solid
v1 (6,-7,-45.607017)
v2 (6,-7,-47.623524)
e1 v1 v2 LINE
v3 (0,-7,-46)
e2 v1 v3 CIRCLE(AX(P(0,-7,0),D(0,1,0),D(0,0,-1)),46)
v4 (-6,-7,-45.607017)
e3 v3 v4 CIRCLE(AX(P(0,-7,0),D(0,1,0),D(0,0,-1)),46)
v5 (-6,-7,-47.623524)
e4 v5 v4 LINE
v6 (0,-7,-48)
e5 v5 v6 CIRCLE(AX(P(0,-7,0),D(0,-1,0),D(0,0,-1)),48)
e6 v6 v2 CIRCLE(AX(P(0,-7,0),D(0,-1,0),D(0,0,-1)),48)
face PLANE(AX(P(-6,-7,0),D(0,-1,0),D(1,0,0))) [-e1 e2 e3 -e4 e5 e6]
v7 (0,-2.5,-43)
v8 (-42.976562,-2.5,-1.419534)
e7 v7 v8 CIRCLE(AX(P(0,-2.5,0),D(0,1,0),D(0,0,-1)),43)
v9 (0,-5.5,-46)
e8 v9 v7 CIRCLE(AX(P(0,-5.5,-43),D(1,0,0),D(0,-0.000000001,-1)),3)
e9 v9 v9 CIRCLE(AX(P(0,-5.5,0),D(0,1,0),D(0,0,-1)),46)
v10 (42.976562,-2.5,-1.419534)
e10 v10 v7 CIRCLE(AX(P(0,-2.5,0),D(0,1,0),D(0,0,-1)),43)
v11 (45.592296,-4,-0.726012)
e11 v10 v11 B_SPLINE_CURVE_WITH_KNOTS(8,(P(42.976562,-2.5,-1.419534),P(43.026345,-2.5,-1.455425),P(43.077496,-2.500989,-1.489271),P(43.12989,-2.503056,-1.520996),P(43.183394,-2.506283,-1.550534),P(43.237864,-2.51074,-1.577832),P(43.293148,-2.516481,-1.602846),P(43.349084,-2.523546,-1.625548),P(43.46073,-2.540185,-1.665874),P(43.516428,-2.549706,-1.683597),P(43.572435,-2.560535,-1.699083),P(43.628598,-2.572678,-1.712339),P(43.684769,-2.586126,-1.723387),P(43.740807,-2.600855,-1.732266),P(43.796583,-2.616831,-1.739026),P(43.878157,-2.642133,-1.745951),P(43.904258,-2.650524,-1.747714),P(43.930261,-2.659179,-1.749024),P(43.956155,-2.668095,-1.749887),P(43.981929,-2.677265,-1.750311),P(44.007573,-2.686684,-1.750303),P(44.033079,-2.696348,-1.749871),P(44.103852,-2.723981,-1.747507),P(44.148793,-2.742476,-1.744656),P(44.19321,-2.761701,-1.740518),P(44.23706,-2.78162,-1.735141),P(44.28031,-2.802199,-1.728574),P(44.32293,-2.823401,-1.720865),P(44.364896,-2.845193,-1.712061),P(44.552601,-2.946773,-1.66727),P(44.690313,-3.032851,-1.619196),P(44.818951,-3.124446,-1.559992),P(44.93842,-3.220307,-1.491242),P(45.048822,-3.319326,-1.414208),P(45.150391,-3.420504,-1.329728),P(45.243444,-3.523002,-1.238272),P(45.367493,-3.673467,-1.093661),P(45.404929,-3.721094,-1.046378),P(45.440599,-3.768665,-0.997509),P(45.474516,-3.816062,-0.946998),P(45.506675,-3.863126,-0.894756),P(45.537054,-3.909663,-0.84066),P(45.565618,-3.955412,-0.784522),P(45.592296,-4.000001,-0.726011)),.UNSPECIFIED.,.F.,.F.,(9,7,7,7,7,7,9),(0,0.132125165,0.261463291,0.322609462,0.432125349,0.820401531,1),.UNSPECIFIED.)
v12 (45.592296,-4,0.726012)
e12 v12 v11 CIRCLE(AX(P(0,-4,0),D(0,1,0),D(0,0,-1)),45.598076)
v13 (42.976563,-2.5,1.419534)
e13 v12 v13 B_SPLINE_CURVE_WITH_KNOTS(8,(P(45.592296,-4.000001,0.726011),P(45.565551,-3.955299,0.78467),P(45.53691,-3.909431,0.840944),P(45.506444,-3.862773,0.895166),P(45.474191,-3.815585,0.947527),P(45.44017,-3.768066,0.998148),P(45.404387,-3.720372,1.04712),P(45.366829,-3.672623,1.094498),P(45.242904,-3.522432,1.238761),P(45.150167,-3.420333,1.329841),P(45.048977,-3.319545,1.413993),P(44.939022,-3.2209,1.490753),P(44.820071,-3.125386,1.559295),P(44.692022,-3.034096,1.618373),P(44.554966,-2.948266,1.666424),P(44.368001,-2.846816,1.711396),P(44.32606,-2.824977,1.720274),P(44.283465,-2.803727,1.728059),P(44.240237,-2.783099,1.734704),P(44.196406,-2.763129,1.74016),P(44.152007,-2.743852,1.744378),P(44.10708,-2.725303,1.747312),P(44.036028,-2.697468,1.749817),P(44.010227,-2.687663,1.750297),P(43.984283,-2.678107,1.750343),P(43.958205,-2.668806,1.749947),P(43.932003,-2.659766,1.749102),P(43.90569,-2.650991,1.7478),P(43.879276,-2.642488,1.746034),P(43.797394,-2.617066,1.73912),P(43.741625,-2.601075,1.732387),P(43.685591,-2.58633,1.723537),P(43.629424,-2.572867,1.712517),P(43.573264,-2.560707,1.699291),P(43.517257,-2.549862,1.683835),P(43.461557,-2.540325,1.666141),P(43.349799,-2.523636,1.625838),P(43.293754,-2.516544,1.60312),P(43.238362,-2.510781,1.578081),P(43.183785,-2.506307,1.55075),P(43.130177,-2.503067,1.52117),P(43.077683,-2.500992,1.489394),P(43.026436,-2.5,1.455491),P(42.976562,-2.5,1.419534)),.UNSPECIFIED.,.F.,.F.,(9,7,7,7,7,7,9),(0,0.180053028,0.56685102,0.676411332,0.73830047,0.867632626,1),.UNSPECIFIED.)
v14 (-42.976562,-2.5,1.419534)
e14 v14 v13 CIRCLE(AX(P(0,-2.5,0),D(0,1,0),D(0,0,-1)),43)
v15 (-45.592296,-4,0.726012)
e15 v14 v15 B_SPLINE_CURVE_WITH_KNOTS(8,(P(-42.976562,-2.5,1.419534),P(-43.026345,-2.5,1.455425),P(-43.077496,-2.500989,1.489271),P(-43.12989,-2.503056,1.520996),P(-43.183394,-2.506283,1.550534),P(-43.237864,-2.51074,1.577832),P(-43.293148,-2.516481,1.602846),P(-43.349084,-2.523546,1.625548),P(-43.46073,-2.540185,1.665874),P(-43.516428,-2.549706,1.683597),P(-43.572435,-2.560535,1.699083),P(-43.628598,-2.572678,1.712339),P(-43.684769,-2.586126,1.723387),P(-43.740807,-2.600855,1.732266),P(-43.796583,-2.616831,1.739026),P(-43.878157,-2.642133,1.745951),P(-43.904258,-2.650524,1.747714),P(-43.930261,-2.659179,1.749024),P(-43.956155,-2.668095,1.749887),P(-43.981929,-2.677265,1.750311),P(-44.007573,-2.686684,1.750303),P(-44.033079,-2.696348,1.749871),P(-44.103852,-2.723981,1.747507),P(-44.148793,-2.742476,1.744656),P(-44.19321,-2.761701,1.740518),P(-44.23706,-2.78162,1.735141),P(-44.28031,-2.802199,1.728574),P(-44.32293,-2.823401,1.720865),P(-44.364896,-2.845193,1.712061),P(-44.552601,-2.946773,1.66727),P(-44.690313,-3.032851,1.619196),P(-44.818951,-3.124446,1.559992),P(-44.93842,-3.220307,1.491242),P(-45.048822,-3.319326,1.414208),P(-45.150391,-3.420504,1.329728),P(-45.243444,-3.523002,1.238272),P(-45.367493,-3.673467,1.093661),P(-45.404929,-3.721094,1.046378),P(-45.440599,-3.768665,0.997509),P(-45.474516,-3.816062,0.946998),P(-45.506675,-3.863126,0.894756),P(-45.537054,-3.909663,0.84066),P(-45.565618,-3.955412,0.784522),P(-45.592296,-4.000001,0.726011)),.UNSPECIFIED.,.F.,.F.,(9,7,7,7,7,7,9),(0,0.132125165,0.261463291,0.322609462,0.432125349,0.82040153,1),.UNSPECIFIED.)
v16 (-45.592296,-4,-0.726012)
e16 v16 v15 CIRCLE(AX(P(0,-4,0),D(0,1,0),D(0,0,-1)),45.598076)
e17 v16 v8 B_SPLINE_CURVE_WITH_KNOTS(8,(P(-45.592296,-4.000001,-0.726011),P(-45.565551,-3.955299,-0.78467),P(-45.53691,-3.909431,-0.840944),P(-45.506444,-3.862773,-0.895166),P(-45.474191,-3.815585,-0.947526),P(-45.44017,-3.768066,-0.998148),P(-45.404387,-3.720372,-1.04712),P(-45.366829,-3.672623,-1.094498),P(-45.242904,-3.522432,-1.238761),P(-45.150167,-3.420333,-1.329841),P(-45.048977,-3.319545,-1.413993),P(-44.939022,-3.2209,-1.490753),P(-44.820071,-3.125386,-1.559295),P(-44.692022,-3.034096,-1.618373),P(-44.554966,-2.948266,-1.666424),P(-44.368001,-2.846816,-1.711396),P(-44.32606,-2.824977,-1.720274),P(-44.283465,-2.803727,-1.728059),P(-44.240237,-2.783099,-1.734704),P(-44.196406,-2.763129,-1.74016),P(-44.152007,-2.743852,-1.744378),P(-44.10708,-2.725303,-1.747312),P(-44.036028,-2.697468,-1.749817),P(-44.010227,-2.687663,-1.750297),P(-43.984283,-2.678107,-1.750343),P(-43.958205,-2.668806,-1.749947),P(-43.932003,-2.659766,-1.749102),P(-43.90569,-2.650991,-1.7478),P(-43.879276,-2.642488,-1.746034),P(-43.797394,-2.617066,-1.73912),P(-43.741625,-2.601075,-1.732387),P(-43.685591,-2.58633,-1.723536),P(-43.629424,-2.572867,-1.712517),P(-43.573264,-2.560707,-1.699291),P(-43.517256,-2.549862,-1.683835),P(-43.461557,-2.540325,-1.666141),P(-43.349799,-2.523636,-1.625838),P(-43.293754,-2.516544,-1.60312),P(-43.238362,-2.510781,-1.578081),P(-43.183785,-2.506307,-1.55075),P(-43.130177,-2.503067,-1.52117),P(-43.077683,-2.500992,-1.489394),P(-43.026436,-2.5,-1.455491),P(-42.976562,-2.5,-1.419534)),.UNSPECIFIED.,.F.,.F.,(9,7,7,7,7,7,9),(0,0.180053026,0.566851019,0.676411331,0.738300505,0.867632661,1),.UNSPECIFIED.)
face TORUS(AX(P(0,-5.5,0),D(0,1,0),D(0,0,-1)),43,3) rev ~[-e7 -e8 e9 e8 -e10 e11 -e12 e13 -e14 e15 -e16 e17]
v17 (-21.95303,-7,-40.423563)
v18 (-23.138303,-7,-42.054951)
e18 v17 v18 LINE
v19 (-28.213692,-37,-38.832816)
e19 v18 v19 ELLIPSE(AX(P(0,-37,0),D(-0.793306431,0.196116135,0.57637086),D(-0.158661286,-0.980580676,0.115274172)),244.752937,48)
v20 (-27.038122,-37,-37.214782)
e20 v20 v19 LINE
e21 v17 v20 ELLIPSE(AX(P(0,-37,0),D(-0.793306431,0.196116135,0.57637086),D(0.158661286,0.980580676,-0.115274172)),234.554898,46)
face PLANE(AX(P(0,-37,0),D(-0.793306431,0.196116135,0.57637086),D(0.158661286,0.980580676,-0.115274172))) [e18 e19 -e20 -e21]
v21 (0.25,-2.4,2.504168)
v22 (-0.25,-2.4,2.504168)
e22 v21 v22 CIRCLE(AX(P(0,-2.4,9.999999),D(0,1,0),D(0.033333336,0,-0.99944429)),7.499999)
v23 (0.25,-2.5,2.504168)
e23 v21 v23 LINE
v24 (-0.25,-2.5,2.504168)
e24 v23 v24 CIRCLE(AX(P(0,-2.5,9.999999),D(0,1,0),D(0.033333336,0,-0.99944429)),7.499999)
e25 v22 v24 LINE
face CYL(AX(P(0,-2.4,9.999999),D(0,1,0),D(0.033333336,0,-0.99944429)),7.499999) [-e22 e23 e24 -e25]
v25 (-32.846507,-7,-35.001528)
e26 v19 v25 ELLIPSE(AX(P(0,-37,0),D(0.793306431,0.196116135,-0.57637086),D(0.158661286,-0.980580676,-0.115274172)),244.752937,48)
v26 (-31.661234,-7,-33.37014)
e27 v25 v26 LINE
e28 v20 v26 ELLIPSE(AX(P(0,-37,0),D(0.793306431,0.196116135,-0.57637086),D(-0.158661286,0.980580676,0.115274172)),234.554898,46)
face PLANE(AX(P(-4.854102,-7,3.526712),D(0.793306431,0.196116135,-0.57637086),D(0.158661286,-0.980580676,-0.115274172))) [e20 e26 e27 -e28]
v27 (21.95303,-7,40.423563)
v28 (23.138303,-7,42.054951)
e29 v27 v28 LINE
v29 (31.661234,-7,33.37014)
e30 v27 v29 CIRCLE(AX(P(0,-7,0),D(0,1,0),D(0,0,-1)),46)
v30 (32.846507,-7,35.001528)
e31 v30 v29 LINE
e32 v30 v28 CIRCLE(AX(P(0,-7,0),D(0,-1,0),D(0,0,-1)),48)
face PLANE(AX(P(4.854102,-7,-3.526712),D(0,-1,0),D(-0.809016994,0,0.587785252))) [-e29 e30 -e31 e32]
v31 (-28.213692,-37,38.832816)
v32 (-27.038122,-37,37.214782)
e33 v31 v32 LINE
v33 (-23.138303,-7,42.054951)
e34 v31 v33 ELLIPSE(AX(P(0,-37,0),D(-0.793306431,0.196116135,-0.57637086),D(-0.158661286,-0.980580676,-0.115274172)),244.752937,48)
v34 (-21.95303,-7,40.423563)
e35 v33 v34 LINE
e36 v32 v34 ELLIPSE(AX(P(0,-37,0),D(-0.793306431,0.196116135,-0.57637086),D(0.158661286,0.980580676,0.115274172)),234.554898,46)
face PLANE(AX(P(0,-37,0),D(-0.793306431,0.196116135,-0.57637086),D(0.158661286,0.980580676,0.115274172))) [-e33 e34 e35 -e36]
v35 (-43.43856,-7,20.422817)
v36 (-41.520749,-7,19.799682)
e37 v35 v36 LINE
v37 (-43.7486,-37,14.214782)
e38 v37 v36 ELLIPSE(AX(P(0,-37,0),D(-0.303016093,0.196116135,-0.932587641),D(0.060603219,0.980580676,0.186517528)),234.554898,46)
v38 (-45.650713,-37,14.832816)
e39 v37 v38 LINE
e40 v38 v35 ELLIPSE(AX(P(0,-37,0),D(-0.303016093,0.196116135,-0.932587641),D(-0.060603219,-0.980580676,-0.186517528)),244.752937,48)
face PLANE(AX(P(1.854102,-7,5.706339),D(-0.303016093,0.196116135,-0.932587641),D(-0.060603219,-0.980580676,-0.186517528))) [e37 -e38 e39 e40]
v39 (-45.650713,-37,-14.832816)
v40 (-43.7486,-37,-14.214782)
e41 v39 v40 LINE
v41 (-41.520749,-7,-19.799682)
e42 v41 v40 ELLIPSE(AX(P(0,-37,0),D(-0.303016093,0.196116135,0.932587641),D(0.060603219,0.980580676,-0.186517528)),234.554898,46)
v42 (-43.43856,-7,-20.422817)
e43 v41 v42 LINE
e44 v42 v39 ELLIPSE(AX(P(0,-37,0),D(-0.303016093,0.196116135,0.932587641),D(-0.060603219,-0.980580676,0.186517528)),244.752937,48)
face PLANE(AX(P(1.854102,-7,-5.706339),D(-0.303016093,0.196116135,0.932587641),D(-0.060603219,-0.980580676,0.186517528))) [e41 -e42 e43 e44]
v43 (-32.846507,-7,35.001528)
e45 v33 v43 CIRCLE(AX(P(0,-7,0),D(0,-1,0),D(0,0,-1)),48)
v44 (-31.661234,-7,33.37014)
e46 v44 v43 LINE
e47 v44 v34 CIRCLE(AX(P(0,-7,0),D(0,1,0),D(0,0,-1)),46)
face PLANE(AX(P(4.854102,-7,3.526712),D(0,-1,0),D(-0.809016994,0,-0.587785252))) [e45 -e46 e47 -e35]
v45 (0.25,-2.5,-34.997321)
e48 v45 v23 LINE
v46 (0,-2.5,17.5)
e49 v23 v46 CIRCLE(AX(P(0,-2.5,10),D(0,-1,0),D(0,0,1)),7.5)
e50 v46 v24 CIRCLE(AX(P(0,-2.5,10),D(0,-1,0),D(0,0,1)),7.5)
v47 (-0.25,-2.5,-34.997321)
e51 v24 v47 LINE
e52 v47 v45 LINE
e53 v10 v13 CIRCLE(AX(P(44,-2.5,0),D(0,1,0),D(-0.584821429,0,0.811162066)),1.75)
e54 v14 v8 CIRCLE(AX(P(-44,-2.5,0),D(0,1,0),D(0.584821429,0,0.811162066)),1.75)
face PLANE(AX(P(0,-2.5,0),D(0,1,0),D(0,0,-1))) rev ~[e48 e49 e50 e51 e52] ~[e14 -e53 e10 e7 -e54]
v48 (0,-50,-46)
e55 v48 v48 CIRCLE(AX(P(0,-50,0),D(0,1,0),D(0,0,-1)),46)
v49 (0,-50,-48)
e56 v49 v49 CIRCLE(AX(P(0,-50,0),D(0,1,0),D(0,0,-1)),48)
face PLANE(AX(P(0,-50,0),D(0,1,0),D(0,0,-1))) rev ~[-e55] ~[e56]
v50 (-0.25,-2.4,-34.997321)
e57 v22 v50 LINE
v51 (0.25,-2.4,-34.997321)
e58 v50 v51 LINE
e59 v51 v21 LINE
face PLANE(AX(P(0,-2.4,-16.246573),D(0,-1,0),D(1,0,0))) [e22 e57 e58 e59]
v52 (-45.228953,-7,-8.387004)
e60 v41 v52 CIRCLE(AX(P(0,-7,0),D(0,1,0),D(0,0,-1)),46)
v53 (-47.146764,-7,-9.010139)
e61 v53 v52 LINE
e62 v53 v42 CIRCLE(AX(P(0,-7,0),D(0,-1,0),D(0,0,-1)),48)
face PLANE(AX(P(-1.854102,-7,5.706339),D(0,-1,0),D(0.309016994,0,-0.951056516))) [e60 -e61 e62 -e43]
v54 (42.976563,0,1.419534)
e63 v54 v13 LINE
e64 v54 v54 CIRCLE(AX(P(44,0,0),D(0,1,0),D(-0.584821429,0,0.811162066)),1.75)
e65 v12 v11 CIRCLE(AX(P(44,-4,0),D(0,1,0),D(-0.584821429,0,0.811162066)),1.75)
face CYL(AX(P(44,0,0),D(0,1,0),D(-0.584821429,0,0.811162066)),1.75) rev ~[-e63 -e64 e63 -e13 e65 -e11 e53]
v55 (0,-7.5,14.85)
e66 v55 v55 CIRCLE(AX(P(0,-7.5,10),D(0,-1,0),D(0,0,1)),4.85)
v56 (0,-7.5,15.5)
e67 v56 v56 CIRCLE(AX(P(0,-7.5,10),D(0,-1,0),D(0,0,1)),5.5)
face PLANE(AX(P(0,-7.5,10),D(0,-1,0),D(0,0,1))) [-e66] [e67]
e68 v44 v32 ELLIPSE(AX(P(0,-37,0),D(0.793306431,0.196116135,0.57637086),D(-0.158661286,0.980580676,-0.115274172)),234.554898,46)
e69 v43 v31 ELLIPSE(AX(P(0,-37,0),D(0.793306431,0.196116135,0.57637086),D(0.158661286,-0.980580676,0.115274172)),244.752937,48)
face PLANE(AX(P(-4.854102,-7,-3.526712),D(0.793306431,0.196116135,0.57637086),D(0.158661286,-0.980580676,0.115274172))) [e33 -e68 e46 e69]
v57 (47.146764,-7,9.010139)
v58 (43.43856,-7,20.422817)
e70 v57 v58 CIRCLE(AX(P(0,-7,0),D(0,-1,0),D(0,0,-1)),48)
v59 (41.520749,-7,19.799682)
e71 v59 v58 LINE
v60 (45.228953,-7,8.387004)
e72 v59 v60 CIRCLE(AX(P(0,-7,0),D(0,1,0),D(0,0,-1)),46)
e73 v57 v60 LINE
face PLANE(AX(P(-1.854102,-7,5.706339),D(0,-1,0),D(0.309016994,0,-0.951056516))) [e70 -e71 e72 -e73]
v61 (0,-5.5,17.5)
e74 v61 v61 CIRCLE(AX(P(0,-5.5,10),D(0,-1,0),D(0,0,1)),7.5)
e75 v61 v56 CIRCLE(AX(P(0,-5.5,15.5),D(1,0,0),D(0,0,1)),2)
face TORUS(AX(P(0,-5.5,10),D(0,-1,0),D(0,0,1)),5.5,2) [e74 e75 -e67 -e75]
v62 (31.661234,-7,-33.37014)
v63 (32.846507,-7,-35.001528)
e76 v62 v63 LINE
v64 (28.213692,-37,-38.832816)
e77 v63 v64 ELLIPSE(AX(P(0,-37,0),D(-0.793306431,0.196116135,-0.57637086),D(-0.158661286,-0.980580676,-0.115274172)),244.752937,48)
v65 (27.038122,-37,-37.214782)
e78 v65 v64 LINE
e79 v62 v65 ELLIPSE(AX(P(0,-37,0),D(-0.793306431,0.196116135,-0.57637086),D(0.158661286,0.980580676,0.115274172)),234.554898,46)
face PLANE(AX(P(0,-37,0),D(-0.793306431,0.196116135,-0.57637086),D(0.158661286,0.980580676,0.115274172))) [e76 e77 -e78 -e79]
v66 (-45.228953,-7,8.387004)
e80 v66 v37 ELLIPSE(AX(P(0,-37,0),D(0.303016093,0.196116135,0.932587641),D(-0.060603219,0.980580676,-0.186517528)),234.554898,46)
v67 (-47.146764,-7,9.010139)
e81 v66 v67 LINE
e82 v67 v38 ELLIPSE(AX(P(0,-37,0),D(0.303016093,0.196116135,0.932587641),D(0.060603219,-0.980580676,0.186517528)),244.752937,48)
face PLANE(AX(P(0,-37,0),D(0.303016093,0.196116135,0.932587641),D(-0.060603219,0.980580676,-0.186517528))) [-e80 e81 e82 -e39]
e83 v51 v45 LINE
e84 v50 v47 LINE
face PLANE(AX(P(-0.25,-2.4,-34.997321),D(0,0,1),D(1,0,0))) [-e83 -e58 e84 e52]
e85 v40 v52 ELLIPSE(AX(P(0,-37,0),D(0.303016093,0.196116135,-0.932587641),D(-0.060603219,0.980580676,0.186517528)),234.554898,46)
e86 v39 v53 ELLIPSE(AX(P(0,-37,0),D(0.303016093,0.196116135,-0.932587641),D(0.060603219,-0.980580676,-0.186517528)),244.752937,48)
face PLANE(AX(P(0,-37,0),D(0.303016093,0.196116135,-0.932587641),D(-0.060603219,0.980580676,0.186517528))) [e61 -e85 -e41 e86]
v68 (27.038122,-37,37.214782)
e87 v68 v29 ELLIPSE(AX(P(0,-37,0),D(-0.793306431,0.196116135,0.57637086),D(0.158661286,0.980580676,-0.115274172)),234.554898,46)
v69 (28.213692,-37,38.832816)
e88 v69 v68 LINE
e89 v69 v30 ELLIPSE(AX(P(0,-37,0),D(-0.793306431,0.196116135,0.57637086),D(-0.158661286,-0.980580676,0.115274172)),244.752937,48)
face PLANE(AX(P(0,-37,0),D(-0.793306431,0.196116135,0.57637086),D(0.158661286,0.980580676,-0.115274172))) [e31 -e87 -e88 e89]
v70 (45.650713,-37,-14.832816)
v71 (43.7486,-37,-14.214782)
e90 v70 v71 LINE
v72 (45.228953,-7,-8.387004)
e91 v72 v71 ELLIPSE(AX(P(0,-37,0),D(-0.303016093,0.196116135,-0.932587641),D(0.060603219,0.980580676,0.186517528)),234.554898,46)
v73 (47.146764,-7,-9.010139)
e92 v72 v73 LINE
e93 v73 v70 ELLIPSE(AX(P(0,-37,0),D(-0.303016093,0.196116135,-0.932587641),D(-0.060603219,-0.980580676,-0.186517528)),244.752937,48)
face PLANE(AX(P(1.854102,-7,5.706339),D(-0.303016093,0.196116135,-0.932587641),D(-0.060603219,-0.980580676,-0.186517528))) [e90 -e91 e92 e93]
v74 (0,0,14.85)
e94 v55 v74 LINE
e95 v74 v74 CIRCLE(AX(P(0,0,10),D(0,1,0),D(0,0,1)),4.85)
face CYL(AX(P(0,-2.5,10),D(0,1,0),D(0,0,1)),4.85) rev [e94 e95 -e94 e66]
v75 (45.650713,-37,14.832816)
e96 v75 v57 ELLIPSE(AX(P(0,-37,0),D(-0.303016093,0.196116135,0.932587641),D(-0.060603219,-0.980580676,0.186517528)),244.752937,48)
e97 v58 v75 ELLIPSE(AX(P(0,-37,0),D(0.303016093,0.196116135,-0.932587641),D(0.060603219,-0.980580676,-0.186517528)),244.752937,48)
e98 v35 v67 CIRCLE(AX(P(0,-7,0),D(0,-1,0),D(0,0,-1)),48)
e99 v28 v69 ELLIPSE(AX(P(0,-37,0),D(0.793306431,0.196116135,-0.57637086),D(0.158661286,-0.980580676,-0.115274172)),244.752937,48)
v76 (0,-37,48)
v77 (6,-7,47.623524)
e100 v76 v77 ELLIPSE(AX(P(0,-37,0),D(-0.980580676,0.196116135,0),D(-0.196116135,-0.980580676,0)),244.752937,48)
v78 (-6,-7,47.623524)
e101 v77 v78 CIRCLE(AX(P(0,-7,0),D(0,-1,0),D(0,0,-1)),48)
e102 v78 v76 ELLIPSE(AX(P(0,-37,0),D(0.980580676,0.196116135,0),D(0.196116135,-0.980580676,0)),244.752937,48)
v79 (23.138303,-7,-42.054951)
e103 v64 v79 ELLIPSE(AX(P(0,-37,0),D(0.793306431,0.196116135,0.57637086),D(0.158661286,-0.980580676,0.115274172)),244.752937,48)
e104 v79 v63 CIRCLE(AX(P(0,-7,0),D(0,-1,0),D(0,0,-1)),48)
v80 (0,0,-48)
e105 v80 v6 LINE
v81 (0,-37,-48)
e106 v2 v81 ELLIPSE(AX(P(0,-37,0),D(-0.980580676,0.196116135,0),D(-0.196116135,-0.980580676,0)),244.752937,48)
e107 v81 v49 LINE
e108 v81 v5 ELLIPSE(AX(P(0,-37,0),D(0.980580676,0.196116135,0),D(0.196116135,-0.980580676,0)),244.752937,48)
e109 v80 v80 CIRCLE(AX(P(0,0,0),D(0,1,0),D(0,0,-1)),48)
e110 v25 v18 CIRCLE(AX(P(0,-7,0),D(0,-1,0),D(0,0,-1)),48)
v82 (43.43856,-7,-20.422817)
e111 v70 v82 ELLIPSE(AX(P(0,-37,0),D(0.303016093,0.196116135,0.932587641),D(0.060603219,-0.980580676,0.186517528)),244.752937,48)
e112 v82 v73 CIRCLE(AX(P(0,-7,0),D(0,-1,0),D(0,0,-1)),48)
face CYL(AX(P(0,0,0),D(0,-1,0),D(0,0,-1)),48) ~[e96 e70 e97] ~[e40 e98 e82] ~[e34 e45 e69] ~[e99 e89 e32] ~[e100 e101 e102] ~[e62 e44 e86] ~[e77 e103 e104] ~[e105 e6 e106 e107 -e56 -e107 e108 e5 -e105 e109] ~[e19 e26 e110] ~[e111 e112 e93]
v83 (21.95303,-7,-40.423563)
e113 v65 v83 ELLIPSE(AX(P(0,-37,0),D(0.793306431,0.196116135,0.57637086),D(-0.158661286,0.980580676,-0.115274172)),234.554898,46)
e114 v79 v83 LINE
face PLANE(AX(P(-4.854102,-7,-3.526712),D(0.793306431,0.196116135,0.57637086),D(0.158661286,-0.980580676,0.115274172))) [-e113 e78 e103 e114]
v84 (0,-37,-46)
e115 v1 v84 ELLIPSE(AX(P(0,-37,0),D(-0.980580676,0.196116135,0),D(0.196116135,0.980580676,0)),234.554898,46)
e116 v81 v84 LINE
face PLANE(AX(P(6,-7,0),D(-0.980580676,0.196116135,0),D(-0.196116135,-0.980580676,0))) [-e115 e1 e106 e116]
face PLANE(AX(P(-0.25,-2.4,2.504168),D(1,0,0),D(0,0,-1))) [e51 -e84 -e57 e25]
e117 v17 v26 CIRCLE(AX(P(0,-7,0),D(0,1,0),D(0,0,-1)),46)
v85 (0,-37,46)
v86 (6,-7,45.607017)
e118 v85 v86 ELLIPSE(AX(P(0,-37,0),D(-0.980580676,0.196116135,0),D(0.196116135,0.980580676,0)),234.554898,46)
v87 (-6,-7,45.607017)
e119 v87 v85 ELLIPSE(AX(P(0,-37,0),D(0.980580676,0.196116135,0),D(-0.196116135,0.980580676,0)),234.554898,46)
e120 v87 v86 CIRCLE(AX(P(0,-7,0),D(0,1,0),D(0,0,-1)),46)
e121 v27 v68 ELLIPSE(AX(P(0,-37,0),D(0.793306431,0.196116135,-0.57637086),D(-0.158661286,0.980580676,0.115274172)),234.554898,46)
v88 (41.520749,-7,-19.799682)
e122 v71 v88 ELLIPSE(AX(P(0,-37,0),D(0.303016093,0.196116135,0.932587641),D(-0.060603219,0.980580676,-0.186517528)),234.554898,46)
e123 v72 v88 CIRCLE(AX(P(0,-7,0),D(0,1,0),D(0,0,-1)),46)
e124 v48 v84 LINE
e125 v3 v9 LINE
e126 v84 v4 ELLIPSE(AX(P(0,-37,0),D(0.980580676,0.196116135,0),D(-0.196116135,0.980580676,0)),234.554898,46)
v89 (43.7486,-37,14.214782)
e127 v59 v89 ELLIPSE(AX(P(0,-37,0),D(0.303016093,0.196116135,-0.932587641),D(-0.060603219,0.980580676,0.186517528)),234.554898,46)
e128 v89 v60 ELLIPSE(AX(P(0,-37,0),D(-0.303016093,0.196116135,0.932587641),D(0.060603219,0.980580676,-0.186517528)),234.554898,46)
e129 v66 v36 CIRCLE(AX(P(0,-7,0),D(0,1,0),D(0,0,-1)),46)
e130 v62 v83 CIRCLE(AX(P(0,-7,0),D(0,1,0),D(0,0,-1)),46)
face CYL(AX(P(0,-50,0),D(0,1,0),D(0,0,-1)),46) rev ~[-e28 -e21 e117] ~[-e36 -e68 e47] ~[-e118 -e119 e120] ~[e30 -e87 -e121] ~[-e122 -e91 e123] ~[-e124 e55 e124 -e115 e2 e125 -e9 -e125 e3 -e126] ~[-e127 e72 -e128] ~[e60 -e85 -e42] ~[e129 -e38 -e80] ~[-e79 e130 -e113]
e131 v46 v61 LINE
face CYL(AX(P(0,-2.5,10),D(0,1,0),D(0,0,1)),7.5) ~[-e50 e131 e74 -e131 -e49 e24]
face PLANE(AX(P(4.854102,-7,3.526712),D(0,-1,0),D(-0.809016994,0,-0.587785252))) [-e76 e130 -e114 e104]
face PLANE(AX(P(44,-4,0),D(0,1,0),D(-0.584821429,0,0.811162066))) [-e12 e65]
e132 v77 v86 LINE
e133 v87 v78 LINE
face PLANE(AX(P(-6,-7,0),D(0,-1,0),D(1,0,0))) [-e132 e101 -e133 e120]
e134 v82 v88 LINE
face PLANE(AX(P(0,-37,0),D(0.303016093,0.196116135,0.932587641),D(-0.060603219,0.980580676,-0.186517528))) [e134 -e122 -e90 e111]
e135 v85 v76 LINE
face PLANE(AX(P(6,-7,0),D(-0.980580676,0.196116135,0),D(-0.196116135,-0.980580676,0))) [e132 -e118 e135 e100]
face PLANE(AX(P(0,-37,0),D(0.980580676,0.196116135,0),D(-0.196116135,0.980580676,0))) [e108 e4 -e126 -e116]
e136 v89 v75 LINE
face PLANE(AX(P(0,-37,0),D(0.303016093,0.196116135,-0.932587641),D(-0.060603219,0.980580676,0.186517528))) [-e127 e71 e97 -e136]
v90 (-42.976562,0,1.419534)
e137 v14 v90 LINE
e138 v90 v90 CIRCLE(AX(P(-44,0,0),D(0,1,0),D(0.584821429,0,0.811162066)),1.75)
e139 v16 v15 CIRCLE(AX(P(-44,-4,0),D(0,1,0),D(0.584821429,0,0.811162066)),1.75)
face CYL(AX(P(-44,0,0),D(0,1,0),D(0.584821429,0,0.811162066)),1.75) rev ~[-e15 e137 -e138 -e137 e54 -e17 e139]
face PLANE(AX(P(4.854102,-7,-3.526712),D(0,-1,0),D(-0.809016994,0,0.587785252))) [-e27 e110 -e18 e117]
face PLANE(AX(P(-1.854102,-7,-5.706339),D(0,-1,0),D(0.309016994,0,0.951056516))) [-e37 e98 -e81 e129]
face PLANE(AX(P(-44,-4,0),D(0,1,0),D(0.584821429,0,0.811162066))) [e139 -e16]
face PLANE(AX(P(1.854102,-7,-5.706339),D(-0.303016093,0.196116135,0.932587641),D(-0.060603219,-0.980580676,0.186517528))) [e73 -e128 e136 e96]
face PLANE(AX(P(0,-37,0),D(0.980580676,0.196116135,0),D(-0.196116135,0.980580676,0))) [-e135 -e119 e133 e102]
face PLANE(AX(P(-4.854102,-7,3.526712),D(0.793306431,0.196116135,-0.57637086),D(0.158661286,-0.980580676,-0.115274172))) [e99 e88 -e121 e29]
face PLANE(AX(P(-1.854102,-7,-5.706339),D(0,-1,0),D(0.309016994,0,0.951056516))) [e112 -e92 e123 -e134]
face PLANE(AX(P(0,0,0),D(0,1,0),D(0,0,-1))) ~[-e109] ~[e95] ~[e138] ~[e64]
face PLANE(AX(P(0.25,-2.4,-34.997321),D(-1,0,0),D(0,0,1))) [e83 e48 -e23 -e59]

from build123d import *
from build123d.topology import SkipClean

# Parameters (mm, degrees)
SKETCH_3_R                 = 4.85
CUT_EXTRUDE_496_DEPTH      = 38.7
CUT_EXTRUDE_713_DEPTH      = 70.85
PATTERN_CIRCULAR_762_COUNT = 5
SKETCH_5_R                 = 7.5
SKETCH_5_R_2               = 4.85
EXTRUDE_884_DEPTH          = 5
CUT_EXTRUDE_START          = -0.1
CUT_EXTRUDE_1190_DEPTH     = 0.1
FILLET_2_R                 = 2
SKETCH_7_R                 = 1.75
CUT_EXTRUDE_1_DEPTH        = 4


with BuildPart() as part:
    # Эскиз2 → Revolve 372 (revolve)
    with BuildSketch(Plane.XY, mode=Mode.PRIVATE) as revolve_372_sk:
        with BuildLine():
            Line((0, 0), (-48, 0))
            Line((-48, 0), (-48, -50))
            Line((-48, -50), (-46, -50))
            Line((-46, -50), (-46, -5.5))
            ThreePointArc((-46, -5.5), (-45.121320344, -3.378679656), (-43, -2.5))
            Line((-43, -2.5), (0, -2.5))
            Line((0, -2.5), (0, 0))
        make_face()
    revolve(revolve_372_sk.sketch.rotate(Axis((0, 0, 0), (0, 1, 0)), 270), axis=Axis((0, 0, 0), (0, 1, 0)))

    # Эскиз3 → Cut-Extrude 496 (cut)
    with BuildSketch(Plane(origin=(0, 0, 0), x_dir=(1, 0, 0), z_dir=(0, 1, 0))):
        with Locations(Location((0, -10, 0), (0, 0, 270))):
            Circle(SKETCH_3_R)
    extrude(amount=-CUT_EXTRUDE_496_DEPTH, mode=Mode.SUBTRACT)

    # Эскиз4 → Cut-Extrude 713 (cut, symmetric)
    with BuildSketch(Plane.XY):
        Polygon((-6, -7), (6, -7), (0, -37), align=None)
    cut_extrude_713 = extrude(amount=CUT_EXTRUDE_713_DEPTH, both=True, mode=Mode.SUBTRACT)

    # Pattern Circular 762: Cut-Extrude 713 ×5 about axis
    pattern_circular_762_axis = Axis((0, 0, 0), (0, 1, 0))
    for i in range(1, PATTERN_CIRCULAR_762_COUNT):
        add(cut_extrude_713.rotate(pattern_circular_762_axis, i * 360 / PATTERN_CIRCULAR_762_COUNT), mode=Mode.SUBTRACT)

    # Эскиз5 → Extrude 884 (add)
    with BuildSketch(Plane.XZ.offset(2.5)):
        with Locations(Location((0, 10, 0), (0, 0, 90))):
            Circle(SKETCH_5_R)
        with Locations(Location((0, 10, 0), (0, 0, 90))):
            Circle(SKETCH_5_R_2, mode=Mode.SUBTRACT)
    extrude(amount=EXTRUDE_884_DEPTH)

    # Эскиз6 → Cut-Extrude 1190 (cut)
    with SkipClean():  # the faces are left unmerged after this step: merging them gives an invalid solid
        with BuildSketch(Plane.XZ.offset(2.5).offset(CUT_EXTRUDE_START)):
            with BuildLine():
                Line((-0.25, 2.504167825), (-0.25, -34.997321394))
                Line((-0.25, -34.997321394), (0.25, -34.997321394))
                Line((0.25, -34.997321394), (0.25, 2.504167825))
                ThreePointArc((0.25, 2.504167825), (0, 2.5), (-0.25, 2.504167825))
            make_face()
        extrude(amount=CUT_EXTRUDE_1190_DEPTH, mode=Mode.SUBTRACT)

    # Скругление2
    fillet_2_edges = [part.edges().sort_by_distance(p)[0] for p in [
        (0, -7.5, 2.5),
    ]]
    fillet(fillet_2_edges, radius=FILLET_2_R)

    # Эскиз7 → Вырез-Вытянуть1 (cut, symmetric)
    with SkipClean():  # the faces are left unmerged after this step: merging them gives an invalid solid
        with BuildSketch(Plane(origin=(0, 0, 0), x_dir=(1, 0, 0), z_dir=(0, 1, 0))):
            with Locations(Location((44, 0, 0), (0, 0, 234.209624239))):
                Circle(SKETCH_7_R)
            with Locations(Location((-44, 0, 0), (0, 0, 305.790375763))):
                Circle(SKETCH_7_R)
        extrude(amount=CUT_EXTRUDE_1_DEPTH, both=True, mode=Mode.SUBTRACT)


solid = part.part
